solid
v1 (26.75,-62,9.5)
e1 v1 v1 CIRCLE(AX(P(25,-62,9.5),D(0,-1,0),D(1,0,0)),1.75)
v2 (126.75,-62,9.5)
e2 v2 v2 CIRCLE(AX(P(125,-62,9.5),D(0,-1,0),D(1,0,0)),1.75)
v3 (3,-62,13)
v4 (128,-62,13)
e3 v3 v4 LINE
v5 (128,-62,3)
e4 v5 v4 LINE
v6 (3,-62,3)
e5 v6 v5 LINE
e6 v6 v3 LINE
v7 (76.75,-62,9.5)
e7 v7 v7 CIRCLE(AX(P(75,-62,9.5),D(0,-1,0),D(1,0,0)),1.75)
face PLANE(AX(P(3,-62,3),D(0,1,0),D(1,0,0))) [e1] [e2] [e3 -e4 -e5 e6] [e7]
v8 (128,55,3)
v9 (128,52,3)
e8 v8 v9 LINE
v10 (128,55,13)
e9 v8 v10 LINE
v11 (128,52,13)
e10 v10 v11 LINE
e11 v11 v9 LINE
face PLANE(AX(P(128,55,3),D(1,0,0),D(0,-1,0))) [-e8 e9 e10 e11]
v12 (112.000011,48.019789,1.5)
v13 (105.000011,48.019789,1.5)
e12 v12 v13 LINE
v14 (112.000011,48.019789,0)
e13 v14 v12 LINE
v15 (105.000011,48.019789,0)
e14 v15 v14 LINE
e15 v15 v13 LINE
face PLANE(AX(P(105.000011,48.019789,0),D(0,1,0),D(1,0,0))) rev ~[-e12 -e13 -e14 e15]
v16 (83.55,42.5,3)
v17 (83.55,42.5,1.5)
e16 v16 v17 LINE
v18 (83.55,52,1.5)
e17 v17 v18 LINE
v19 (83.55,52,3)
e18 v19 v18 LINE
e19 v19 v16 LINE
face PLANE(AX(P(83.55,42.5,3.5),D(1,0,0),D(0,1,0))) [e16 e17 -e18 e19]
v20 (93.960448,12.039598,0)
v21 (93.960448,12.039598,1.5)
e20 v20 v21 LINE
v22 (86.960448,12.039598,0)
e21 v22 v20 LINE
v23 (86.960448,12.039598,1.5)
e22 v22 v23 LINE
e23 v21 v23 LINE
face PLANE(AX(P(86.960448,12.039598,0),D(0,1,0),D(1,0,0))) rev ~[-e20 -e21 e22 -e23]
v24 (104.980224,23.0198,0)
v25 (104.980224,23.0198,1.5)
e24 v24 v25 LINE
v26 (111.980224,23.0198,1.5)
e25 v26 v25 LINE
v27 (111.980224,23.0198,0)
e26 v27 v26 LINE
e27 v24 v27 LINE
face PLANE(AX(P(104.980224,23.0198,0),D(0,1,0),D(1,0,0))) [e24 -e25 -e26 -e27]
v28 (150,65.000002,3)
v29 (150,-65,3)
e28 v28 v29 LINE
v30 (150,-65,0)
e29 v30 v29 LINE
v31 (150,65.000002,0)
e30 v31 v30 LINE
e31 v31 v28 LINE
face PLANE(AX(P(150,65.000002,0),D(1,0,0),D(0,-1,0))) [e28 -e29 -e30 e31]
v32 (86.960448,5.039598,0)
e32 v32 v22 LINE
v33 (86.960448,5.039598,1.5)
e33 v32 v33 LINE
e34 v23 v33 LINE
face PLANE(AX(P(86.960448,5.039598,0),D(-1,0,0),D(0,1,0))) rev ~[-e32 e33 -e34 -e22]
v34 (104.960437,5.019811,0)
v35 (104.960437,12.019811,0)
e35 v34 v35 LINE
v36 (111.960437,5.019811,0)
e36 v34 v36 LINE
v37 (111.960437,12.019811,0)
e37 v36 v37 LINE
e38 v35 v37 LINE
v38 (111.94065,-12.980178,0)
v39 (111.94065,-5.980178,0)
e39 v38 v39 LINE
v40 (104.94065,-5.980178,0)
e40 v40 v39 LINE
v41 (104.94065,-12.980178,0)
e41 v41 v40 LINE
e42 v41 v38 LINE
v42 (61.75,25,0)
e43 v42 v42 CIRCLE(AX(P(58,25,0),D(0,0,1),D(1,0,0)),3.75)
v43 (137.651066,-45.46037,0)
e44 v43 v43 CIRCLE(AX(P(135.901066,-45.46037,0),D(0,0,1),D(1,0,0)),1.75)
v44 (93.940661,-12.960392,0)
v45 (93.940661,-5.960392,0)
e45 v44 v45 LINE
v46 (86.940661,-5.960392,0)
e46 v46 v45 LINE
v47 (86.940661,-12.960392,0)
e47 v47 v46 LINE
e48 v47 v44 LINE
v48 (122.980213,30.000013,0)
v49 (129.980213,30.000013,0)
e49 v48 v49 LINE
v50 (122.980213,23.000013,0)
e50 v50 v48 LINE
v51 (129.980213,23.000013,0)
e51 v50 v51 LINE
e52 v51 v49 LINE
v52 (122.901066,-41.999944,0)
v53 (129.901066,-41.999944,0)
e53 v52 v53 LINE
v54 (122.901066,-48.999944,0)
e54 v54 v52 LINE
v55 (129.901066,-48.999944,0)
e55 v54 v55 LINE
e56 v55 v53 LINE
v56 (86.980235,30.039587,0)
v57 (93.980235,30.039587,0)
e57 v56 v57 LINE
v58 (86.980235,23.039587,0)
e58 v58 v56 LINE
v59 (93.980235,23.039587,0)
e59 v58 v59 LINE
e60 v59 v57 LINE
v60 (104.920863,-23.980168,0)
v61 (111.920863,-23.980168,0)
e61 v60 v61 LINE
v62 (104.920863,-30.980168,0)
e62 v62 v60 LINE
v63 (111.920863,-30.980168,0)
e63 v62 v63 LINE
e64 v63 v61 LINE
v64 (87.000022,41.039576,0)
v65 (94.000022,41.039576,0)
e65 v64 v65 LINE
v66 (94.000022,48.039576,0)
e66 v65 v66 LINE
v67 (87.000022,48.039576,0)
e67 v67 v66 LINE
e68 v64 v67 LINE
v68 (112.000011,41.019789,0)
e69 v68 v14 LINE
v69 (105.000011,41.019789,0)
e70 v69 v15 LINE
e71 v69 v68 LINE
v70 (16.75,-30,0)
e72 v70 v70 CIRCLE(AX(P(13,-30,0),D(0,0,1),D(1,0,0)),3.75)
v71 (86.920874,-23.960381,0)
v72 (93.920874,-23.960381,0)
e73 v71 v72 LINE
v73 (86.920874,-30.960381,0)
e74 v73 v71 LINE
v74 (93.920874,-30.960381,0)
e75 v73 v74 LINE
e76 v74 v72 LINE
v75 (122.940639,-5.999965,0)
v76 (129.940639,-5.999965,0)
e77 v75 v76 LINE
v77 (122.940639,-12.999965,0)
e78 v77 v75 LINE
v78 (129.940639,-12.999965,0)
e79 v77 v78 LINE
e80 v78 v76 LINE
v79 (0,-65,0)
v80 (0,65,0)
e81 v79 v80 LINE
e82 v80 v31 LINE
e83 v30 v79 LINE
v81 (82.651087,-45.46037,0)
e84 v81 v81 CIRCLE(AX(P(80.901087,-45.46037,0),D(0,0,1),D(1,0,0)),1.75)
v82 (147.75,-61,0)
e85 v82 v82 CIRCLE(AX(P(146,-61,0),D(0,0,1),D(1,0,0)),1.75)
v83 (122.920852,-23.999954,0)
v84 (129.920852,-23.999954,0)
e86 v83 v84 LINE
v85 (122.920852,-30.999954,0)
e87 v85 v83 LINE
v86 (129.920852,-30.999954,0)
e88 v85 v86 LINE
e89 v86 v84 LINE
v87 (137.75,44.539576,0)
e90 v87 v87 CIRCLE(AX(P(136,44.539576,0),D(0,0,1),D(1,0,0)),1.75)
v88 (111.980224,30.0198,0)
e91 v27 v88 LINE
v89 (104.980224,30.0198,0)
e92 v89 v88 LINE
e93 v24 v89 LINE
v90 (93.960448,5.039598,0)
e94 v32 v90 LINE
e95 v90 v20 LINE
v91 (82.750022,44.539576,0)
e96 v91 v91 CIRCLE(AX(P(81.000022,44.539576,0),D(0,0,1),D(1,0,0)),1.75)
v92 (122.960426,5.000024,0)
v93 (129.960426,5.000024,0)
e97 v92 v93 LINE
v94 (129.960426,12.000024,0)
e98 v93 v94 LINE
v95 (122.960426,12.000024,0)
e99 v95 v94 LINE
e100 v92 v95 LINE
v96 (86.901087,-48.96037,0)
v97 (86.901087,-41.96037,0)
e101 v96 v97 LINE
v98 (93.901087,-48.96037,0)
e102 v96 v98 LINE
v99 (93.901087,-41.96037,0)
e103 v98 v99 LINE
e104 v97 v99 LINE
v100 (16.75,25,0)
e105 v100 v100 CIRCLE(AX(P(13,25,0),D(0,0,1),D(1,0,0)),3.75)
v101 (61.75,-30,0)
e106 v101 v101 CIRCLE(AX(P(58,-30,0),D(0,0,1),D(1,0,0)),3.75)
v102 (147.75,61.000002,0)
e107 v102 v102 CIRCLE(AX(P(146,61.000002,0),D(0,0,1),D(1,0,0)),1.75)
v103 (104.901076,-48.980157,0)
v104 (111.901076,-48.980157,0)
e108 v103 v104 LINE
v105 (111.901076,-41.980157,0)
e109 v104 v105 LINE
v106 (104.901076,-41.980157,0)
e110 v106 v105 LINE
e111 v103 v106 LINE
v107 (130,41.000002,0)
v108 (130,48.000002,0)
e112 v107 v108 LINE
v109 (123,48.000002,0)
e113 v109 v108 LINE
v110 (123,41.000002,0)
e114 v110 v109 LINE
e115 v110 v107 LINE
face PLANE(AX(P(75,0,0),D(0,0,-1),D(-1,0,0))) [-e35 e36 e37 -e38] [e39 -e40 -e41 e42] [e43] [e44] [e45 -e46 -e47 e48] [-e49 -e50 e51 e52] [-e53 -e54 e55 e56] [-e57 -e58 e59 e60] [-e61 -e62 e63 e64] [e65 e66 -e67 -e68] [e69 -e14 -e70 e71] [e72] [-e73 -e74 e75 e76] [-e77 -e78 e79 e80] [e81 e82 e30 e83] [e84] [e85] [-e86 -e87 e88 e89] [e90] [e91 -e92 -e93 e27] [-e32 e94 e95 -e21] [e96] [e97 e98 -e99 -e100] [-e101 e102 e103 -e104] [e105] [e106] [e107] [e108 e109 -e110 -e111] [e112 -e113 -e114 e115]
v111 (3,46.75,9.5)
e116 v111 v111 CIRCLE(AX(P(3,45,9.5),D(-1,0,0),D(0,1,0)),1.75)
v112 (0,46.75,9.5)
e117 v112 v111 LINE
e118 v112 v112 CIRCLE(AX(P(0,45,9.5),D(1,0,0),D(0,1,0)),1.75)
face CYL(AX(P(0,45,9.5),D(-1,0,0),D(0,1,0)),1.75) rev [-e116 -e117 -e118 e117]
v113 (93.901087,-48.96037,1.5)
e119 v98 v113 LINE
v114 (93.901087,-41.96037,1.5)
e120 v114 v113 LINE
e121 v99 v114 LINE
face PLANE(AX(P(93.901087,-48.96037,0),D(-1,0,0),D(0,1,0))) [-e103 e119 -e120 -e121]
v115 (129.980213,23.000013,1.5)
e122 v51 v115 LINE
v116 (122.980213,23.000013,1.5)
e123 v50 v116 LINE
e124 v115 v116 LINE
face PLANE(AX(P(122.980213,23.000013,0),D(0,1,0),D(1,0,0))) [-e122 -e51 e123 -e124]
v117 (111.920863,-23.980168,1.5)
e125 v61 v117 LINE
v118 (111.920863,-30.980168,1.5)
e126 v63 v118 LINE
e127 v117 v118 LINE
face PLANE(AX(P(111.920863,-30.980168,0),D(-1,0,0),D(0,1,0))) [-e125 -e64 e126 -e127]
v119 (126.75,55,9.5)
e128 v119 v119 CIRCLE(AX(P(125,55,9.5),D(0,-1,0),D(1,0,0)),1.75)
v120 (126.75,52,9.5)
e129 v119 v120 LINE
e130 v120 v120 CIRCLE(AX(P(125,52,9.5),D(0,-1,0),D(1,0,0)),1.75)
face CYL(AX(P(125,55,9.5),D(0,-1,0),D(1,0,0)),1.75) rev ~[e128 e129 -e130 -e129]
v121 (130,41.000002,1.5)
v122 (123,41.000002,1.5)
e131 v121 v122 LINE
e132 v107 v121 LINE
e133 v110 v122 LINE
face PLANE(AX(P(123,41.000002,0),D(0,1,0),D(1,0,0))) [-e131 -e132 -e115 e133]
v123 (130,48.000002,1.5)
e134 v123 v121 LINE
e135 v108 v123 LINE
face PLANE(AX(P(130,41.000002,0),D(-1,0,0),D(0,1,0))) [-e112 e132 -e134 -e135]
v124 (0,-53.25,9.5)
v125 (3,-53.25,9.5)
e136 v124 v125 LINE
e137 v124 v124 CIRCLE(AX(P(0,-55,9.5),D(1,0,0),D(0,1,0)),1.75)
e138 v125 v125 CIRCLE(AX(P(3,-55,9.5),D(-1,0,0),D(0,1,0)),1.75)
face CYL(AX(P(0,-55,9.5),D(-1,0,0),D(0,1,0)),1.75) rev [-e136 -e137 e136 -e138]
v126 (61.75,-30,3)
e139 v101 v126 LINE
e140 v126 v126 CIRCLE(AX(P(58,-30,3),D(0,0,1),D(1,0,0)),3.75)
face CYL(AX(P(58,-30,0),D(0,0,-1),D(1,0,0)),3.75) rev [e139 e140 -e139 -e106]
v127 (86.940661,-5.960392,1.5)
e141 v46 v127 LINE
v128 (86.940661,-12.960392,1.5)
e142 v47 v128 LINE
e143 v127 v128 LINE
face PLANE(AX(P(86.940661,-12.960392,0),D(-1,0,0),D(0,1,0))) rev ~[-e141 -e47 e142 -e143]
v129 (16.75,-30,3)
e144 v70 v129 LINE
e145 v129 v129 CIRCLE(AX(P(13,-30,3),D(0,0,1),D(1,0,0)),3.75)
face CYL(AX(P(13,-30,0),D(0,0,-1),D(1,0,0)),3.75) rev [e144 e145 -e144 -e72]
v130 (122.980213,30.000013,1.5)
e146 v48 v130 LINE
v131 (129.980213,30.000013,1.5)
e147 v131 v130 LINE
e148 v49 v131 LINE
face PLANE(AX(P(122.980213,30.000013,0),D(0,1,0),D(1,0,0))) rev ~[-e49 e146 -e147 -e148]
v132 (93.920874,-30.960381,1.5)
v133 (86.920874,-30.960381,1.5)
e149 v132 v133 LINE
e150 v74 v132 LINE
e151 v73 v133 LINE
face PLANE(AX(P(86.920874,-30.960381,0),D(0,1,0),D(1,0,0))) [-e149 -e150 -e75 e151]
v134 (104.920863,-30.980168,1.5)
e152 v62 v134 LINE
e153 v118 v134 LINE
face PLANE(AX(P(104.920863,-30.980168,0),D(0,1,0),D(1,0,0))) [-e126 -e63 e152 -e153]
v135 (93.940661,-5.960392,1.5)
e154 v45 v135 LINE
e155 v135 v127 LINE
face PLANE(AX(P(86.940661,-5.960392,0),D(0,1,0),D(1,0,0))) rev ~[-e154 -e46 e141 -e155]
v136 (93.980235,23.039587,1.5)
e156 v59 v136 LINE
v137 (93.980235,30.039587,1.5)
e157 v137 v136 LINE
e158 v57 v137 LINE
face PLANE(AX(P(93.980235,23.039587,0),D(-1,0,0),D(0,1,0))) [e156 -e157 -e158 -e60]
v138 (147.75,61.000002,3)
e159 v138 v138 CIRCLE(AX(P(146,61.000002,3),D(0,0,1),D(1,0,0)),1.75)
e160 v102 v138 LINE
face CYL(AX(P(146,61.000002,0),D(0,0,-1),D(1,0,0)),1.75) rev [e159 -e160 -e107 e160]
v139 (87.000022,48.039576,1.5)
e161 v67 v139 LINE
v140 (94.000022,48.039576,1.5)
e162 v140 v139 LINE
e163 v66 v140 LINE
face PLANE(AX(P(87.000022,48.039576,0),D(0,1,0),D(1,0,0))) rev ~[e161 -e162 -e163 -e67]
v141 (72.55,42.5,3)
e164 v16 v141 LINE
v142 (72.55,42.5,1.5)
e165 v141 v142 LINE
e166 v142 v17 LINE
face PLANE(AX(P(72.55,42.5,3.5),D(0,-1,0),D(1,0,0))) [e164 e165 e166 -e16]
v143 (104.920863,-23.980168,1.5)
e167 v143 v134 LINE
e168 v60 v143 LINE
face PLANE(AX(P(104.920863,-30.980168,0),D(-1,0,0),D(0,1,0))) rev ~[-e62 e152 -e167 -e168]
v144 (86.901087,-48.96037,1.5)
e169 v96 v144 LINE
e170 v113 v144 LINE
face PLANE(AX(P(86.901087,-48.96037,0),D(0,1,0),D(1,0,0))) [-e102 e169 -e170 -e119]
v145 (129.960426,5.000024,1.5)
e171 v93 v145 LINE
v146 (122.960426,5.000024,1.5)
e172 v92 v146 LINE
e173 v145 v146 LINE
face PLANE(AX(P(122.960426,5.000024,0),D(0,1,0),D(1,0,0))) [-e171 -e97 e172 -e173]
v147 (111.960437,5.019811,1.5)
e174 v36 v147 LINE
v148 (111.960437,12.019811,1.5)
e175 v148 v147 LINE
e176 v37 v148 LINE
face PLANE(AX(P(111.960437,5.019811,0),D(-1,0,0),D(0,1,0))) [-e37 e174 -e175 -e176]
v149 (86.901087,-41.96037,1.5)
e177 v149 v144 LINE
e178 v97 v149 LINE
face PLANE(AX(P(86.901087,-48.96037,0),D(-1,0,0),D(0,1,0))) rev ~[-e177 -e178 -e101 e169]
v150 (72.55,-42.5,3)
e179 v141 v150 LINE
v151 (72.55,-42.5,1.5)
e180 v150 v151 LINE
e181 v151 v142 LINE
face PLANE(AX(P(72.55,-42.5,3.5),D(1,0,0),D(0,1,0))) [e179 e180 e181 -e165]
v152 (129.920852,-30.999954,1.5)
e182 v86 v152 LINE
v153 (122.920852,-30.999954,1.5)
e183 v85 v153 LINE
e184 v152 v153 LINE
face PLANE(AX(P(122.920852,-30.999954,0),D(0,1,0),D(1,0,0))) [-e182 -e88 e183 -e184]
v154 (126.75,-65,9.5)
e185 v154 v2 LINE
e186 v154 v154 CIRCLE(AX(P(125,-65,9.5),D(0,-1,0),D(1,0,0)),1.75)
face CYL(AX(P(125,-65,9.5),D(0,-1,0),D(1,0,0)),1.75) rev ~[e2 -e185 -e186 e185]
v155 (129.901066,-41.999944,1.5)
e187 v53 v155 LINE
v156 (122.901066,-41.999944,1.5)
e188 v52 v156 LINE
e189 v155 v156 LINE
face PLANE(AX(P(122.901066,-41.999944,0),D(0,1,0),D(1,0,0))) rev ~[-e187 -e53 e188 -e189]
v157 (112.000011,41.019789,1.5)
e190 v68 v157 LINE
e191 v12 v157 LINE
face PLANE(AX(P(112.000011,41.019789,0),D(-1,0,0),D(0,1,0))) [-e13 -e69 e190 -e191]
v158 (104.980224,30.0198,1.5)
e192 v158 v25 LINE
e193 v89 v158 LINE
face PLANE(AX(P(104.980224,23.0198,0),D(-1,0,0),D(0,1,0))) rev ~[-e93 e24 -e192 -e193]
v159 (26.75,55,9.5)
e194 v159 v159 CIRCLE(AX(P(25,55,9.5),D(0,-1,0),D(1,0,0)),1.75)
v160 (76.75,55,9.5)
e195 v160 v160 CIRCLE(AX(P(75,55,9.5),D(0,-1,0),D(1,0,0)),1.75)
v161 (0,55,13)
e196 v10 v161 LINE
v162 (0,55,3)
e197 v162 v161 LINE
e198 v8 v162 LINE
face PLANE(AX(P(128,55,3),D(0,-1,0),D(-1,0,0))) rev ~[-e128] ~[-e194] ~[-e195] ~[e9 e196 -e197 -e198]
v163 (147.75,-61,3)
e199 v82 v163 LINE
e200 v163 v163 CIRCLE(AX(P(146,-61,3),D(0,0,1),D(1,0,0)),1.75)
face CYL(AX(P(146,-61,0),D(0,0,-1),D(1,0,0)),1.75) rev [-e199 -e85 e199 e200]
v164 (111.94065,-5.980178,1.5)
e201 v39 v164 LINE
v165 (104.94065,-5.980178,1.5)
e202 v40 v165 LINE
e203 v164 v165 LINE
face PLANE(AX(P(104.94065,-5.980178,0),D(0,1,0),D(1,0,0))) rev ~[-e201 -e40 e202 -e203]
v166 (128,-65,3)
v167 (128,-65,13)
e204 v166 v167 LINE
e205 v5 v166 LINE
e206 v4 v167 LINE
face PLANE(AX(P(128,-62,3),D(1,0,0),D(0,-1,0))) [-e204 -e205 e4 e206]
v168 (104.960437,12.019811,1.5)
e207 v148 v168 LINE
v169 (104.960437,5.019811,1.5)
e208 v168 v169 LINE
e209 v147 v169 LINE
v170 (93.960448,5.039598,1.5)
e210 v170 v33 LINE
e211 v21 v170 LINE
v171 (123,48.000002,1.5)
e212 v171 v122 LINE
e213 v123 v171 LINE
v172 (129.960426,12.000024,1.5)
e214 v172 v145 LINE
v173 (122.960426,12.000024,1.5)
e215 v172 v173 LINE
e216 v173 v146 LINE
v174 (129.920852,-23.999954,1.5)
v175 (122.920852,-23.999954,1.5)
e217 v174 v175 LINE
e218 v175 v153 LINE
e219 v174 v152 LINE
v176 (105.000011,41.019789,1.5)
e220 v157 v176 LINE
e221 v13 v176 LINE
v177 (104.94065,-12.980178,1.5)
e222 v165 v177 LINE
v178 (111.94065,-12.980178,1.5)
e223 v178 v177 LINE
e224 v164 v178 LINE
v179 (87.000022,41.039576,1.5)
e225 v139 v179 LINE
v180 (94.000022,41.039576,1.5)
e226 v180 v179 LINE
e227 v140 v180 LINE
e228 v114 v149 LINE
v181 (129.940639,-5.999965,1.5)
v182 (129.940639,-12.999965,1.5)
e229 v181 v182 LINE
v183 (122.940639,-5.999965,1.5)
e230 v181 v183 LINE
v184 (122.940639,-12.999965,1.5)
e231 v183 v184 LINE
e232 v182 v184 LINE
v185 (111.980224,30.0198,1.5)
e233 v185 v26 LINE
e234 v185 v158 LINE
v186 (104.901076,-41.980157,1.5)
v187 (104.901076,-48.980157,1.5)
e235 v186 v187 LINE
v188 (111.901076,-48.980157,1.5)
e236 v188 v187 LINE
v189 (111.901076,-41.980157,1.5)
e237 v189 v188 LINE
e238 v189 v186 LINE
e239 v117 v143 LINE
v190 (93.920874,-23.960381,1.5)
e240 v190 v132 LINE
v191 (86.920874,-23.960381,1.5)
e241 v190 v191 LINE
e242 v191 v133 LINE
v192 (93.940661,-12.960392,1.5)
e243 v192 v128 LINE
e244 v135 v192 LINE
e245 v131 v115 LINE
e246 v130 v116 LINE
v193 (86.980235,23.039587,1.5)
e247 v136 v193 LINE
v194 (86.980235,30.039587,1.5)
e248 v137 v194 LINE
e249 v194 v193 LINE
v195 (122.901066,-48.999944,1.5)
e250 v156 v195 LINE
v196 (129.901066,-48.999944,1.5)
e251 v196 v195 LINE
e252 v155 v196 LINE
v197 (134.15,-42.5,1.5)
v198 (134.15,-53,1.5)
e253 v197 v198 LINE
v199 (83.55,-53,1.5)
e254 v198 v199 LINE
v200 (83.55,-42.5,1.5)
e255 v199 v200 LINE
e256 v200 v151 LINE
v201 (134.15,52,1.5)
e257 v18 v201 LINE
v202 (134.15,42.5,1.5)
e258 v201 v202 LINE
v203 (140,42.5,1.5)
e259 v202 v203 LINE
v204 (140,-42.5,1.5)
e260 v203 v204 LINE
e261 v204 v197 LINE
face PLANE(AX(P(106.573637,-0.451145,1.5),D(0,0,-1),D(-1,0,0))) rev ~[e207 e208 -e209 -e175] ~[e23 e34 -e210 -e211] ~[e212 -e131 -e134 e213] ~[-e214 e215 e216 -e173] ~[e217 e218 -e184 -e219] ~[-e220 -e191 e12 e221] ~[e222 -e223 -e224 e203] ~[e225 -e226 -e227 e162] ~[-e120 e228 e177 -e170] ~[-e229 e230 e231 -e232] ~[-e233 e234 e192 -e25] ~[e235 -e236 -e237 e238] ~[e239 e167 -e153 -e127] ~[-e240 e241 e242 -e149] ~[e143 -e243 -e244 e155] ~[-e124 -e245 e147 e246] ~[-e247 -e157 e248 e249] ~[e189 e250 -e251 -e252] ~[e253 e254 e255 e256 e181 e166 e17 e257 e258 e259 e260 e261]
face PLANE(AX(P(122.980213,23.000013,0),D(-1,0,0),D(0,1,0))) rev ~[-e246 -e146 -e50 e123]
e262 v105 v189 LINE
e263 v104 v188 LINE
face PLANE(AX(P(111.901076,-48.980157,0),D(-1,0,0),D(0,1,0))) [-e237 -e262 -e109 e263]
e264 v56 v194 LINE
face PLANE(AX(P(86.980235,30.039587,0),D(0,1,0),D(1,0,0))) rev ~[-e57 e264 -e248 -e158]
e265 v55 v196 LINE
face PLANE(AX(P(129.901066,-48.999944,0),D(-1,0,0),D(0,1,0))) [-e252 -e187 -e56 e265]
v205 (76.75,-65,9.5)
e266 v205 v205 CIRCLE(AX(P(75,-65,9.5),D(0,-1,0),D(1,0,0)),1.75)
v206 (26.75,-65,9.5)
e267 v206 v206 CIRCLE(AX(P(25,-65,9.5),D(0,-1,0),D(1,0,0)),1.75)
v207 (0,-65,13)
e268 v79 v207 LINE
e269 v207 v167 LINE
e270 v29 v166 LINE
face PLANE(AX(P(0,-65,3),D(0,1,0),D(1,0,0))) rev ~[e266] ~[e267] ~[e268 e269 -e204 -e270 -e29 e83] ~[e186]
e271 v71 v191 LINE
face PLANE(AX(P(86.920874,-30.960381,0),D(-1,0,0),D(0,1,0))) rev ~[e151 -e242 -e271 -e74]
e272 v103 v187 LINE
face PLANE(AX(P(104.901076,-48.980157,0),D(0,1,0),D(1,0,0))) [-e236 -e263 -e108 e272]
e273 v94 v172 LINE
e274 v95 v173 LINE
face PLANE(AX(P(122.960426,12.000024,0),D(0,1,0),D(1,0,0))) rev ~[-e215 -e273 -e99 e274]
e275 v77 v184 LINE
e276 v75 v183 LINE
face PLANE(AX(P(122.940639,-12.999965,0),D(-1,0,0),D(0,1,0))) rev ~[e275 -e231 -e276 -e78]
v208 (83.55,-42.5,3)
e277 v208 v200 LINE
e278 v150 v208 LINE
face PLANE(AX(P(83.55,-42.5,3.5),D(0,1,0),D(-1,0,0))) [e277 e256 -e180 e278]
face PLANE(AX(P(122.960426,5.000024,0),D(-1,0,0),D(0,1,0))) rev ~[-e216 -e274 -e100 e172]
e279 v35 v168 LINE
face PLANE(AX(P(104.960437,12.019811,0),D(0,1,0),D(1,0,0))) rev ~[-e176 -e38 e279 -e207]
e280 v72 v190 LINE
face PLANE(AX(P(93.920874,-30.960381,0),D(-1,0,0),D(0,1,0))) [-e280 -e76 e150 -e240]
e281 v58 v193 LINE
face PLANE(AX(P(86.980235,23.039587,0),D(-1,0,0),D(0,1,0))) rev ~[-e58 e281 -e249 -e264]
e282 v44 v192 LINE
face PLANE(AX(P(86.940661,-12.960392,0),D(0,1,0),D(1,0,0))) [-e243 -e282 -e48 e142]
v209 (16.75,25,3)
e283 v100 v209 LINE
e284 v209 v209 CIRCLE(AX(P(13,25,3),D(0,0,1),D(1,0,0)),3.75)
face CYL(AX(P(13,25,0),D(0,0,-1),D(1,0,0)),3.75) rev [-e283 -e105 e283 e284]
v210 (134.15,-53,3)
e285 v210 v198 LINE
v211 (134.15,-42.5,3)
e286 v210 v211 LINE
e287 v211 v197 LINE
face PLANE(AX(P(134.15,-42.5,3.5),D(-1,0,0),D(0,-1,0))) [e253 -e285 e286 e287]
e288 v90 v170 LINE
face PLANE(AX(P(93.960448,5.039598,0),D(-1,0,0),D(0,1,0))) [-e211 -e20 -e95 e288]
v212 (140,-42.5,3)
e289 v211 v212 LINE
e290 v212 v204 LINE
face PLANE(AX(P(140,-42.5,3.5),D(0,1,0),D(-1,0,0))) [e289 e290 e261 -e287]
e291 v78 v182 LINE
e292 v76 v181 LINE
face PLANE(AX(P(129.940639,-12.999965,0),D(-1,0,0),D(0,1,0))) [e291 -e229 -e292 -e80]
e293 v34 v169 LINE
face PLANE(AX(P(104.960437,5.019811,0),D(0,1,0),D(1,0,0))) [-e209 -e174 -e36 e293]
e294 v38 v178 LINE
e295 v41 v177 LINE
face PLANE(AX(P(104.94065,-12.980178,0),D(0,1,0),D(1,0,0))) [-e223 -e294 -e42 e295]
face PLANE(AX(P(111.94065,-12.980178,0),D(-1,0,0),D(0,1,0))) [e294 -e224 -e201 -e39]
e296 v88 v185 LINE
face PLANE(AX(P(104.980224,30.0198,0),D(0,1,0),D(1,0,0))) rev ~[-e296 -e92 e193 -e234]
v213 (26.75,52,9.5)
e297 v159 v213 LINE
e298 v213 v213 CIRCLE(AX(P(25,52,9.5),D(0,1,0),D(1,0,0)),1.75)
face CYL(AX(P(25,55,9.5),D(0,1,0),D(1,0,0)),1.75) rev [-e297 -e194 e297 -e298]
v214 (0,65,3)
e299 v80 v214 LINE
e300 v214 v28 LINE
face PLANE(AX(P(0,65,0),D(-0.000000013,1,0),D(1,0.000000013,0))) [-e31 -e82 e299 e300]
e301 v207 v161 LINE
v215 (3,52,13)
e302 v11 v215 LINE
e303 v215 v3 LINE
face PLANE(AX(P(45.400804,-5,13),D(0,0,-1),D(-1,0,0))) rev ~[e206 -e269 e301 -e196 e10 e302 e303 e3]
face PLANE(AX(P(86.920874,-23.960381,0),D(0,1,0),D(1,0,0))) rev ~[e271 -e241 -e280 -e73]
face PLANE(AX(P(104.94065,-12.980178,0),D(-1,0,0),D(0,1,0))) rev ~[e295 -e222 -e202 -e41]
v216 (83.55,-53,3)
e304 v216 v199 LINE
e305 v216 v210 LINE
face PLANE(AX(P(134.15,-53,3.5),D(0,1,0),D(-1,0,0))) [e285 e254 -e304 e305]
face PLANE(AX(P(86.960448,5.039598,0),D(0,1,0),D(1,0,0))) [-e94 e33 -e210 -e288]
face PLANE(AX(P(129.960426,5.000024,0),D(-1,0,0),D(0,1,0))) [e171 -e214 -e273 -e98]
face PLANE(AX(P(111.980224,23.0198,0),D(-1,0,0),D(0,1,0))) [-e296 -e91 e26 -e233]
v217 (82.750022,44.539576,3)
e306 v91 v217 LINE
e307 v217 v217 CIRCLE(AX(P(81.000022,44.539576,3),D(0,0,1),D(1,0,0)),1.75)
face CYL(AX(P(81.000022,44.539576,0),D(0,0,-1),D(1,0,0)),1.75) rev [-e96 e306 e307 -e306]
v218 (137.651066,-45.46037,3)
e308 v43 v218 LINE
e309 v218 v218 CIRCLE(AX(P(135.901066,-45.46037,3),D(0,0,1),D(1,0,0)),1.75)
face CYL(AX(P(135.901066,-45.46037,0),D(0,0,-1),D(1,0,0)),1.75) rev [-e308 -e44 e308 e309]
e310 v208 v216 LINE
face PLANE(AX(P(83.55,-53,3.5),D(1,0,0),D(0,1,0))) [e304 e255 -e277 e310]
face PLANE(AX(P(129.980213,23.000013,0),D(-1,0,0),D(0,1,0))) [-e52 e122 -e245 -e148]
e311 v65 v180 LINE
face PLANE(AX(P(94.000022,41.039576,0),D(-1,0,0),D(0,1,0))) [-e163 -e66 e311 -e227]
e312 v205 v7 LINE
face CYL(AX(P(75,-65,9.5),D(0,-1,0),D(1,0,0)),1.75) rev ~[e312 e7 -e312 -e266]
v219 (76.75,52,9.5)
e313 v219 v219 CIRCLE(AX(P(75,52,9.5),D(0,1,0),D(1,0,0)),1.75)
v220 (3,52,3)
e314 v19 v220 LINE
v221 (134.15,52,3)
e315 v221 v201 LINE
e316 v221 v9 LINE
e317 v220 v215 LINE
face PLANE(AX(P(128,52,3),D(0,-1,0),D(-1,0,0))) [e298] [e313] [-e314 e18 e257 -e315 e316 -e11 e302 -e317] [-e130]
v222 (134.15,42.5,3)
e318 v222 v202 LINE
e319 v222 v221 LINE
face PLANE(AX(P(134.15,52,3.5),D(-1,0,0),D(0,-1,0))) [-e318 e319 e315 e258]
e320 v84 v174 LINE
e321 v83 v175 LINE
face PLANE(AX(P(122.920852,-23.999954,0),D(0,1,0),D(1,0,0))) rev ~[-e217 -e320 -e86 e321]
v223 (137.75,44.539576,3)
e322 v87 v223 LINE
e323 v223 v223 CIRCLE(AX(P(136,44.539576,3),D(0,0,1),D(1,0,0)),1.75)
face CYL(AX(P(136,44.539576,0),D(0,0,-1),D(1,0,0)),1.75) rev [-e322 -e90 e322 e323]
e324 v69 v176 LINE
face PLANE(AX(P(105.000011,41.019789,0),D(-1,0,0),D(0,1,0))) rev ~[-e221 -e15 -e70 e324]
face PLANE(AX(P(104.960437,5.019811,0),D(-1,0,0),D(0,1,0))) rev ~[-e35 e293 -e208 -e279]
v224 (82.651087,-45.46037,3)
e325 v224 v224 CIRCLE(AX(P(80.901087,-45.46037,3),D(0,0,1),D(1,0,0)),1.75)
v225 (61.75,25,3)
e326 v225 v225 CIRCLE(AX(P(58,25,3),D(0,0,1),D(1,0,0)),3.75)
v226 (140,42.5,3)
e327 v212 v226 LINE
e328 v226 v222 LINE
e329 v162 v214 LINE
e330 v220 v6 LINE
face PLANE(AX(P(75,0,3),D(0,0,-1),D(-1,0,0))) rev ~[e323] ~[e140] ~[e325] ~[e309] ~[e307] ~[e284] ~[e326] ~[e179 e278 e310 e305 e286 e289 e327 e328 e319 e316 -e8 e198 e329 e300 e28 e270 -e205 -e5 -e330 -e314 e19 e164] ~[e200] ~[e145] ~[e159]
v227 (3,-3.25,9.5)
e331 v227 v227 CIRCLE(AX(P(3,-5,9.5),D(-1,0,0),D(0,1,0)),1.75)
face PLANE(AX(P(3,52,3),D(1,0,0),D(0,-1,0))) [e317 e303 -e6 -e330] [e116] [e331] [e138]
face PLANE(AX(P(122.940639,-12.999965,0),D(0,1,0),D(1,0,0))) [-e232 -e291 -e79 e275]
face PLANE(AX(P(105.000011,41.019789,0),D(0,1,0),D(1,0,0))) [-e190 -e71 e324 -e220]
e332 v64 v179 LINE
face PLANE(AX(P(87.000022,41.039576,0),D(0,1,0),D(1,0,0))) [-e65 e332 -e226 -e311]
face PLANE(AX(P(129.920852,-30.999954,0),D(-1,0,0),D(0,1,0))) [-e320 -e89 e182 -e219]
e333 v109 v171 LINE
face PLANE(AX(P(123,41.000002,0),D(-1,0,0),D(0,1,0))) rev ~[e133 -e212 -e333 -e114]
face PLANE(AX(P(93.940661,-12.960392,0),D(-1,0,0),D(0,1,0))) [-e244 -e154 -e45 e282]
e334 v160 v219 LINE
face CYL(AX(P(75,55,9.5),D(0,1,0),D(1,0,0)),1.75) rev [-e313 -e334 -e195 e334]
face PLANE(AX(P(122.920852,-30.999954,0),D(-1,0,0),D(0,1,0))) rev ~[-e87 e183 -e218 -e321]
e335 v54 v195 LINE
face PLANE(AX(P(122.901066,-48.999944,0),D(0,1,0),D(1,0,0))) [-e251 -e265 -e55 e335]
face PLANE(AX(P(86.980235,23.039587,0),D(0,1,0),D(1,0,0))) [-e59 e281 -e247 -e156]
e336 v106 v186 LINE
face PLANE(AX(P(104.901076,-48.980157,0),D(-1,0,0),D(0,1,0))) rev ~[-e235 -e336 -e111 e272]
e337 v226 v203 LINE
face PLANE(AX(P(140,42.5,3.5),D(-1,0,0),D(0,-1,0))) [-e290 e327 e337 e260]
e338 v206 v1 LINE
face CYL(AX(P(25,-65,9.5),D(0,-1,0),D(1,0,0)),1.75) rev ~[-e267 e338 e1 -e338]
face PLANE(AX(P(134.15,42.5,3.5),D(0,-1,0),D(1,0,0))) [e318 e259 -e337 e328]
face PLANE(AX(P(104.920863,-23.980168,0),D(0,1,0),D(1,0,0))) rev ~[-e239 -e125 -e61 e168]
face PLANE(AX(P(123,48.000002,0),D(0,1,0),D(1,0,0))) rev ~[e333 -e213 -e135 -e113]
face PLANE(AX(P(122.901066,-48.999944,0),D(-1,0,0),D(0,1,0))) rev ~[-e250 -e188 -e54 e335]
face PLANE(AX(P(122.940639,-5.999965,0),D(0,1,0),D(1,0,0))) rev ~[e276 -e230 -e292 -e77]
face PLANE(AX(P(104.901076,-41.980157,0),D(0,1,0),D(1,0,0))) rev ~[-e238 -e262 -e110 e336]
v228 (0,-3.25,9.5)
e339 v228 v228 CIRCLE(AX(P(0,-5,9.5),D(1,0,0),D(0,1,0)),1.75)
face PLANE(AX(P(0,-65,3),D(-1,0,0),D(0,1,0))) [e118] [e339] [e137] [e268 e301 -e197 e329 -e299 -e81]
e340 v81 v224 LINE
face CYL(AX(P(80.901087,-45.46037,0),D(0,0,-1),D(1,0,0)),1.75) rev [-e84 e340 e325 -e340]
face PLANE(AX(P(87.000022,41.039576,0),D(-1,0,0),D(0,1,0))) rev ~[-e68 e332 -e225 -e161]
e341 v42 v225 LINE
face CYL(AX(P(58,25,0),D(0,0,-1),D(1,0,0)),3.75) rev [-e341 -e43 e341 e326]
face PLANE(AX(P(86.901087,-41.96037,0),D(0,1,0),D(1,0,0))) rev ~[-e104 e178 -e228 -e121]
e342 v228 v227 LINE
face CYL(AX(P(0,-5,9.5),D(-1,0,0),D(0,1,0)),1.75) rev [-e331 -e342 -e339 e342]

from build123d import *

# Parameters (mm, degrees)
SKETCH013_R     = 3.75
SKETCH013_R_2   = 1.75
SKETCH013_W     = 7
SKETCH013_H     = 7
PAD004_DEPTH    = 3
PAD_DEPTH       = 10
SKETCH015_R     = 1.75
POCKET005_DEPTH = 5
SKETCH004_R     = 1.75
POCKET006_DEPTH = 5
SKETCH014_R     = 1.75
POCKET007_DEPTH = 5
POCKET_DEPTH    = 2


with BuildPart() as part:
    # Sketch013 → Pad004 (new body)
    with BuildSketch(Plane.XY):
        Polygon((0, 65), (150, 65.000002), (150, -65), (0, -65), align=None)
        with Locations((13, 25)):
            Circle(SKETCH013_R, mode=Mode.SUBTRACT)
        with Locations((58, 25)):
            Circle(SKETCH013_R, mode=Mode.SUBTRACT)
        with Locations((13, -30)):
            Circle(SKETCH013_R, mode=Mode.SUBTRACT)
        with Locations((58, -30)):
            Circle(SKETCH013_R, mode=Mode.SUBTRACT)
        with Locations((146, 61.000002)):
            Circle(SKETCH013_R_2, mode=Mode.SUBTRACT)
        with Locations((146, -61)):
            Circle(SKETCH013_R_2, mode=Mode.SUBTRACT)
        with Locations((81.000022, 44.539576)):
            Circle(SKETCH013_R_2, mode=Mode.SUBTRACT)
        with Locations((136, 44.539576)):
            Circle(SKETCH013_R_2, mode=Mode.SUBTRACT)
        with Locations((80.901087, -45.46037)):
            Circle(SKETCH013_R_2, mode=Mode.SUBTRACT)
        with Locations((135.901066, -45.46037)):
            Circle(SKETCH013_R_2, mode=Mode.SUBTRACT)
        with Locations((90.500022, 44.539576)):
            Rectangle(SKETCH013_W, SKETCH013_H, mode=Mode.SUBTRACT)
        with Locations((108.500011, 44.519789)):
            Rectangle(SKETCH013_W, SKETCH013_H, mode=Mode.SUBTRACT)
        with Locations((126.5, 44.500002)):
            Rectangle(SKETCH013_W, SKETCH013_H, mode=Mode.SUBTRACT)
        with Locations((90.480235, 26.539587)):
            Rectangle(SKETCH013_W, SKETCH013_H, mode=Mode.SUBTRACT)
        with Locations((108.480224, 26.5198)):
            Rectangle(SKETCH013_W, SKETCH013_H, mode=Mode.SUBTRACT)
        with Locations((126.480213, 26.500013)):
            Rectangle(SKETCH013_W, SKETCH013_H, mode=Mode.SUBTRACT)
        with Locations((90.460448, 8.539598)):
            Rectangle(SKETCH013_W, SKETCH013_H, mode=Mode.SUBTRACT)
        with Locations((108.460437, 8.519811)):
            Rectangle(SKETCH013_W, SKETCH013_H, mode=Mode.SUBTRACT)
        with Locations((126.460426, 8.500024)):
            Rectangle(SKETCH013_W, SKETCH013_H, mode=Mode.SUBTRACT)
        with Locations((90.440661, -9.460392)):
            Rectangle(SKETCH013_W, SKETCH013_H, mode=Mode.SUBTRACT)
        with Locations((108.44065, -9.480178)):
            Rectangle(SKETCH013_W, SKETCH013_H, mode=Mode.SUBTRACT)
        with Locations((126.440639, -9.499965)):
            Rectangle(SKETCH013_W, SKETCH013_H, mode=Mode.SUBTRACT)
        with Locations((90.420874, -27.460381)):
            Rectangle(SKETCH013_W, SKETCH013_H, mode=Mode.SUBTRACT)
        with Locations((108.420863, -27.480168)):
            Rectangle(SKETCH013_W, SKETCH013_H, mode=Mode.SUBTRACT)
        with Locations((126.420852, -27.499954)):
            Rectangle(SKETCH013_W, SKETCH013_H, mode=Mode.SUBTRACT)
        with Locations((90.401087, -45.46037)):
            Rectangle(SKETCH013_W, SKETCH013_H, mode=Mode.SUBTRACT)
        with Locations((108.401076, -45.480157)):
            Rectangle(SKETCH013_W, SKETCH013_H, mode=Mode.SUBTRACT)
        with Locations((126.401066, -45.499944)):
            Rectangle(SKETCH013_W, SKETCH013_H, mode=Mode.SUBTRACT)
    extrude(amount=PAD004_DEPTH)

    # Sketch001 (on DatumPlane) → Pad (join)
    with BuildSketch(Plane.XY.offset(3)):
        Polygon((0, 55), (3, 55), (128, 55), (128, 52), (3, 52), (3, -62), (128, -62), (128, -65), (3, -65), (0, -65), align=None)
    extrude(amount=PAD_DEPTH)

    # Sketch015 → Pocket005 (cut)
    with BuildSketch(Plane.XZ.offset(65)):
        with Locations((25, 9.5)):
            Circle(SKETCH015_R)
        with Locations((75, 9.5)):
            Circle(SKETCH015_R)
        with Locations((125, 9.5)):
            Circle(SKETCH015_R)
    extrude(amount=-POCKET005_DEPTH, mode=Mode.SUBTRACT)

    # Sketch004 (on DatumPlane) → Pocket006 (cut, symmetric)
    with BuildSketch(Plane.XZ.offset(-55)):
        with Locations((25, 9.5)):
            Circle(SKETCH004_R)
        with Locations((75, 9.5)):
            Circle(SKETCH004_R)
        with Locations((125, 9.5)):
            Circle(SKETCH004_R)
    extrude(amount=POCKET006_DEPTH, both=True, mode=Mode.SUBTRACT)

    # Sketch014 → Pocket007 (cut)
    with BuildSketch(Plane.YZ):
        with Locations((45, 9.5)):
            Circle(SKETCH014_R)
        with Locations((-5, 9.5)):
            Circle(SKETCH014_R)
        with Locations((-55, 9.5)):
            Circle(SKETCH014_R)
    extrude(amount=POCKET007_DEPTH, mode=Mode.SUBTRACT)

    # Sketch → Pocket (cut)
    with BuildSketch(Plane.XY.offset(3.5)):
        Polygon((83.55, 52), (134.15, 52), (134.15, 42.5), (140, 42.5), (140, -42.5), (134.15, -42.5), (134.15, -53), (83.55, -53), (83.55, -42.5), (72.55, -42.5), (72.55, 42.5), (83.55, 42.5), align=None)
    extrude(amount=-POCKET_DEPTH, mode=Mode.SUBTRACT)


solid = part.part
